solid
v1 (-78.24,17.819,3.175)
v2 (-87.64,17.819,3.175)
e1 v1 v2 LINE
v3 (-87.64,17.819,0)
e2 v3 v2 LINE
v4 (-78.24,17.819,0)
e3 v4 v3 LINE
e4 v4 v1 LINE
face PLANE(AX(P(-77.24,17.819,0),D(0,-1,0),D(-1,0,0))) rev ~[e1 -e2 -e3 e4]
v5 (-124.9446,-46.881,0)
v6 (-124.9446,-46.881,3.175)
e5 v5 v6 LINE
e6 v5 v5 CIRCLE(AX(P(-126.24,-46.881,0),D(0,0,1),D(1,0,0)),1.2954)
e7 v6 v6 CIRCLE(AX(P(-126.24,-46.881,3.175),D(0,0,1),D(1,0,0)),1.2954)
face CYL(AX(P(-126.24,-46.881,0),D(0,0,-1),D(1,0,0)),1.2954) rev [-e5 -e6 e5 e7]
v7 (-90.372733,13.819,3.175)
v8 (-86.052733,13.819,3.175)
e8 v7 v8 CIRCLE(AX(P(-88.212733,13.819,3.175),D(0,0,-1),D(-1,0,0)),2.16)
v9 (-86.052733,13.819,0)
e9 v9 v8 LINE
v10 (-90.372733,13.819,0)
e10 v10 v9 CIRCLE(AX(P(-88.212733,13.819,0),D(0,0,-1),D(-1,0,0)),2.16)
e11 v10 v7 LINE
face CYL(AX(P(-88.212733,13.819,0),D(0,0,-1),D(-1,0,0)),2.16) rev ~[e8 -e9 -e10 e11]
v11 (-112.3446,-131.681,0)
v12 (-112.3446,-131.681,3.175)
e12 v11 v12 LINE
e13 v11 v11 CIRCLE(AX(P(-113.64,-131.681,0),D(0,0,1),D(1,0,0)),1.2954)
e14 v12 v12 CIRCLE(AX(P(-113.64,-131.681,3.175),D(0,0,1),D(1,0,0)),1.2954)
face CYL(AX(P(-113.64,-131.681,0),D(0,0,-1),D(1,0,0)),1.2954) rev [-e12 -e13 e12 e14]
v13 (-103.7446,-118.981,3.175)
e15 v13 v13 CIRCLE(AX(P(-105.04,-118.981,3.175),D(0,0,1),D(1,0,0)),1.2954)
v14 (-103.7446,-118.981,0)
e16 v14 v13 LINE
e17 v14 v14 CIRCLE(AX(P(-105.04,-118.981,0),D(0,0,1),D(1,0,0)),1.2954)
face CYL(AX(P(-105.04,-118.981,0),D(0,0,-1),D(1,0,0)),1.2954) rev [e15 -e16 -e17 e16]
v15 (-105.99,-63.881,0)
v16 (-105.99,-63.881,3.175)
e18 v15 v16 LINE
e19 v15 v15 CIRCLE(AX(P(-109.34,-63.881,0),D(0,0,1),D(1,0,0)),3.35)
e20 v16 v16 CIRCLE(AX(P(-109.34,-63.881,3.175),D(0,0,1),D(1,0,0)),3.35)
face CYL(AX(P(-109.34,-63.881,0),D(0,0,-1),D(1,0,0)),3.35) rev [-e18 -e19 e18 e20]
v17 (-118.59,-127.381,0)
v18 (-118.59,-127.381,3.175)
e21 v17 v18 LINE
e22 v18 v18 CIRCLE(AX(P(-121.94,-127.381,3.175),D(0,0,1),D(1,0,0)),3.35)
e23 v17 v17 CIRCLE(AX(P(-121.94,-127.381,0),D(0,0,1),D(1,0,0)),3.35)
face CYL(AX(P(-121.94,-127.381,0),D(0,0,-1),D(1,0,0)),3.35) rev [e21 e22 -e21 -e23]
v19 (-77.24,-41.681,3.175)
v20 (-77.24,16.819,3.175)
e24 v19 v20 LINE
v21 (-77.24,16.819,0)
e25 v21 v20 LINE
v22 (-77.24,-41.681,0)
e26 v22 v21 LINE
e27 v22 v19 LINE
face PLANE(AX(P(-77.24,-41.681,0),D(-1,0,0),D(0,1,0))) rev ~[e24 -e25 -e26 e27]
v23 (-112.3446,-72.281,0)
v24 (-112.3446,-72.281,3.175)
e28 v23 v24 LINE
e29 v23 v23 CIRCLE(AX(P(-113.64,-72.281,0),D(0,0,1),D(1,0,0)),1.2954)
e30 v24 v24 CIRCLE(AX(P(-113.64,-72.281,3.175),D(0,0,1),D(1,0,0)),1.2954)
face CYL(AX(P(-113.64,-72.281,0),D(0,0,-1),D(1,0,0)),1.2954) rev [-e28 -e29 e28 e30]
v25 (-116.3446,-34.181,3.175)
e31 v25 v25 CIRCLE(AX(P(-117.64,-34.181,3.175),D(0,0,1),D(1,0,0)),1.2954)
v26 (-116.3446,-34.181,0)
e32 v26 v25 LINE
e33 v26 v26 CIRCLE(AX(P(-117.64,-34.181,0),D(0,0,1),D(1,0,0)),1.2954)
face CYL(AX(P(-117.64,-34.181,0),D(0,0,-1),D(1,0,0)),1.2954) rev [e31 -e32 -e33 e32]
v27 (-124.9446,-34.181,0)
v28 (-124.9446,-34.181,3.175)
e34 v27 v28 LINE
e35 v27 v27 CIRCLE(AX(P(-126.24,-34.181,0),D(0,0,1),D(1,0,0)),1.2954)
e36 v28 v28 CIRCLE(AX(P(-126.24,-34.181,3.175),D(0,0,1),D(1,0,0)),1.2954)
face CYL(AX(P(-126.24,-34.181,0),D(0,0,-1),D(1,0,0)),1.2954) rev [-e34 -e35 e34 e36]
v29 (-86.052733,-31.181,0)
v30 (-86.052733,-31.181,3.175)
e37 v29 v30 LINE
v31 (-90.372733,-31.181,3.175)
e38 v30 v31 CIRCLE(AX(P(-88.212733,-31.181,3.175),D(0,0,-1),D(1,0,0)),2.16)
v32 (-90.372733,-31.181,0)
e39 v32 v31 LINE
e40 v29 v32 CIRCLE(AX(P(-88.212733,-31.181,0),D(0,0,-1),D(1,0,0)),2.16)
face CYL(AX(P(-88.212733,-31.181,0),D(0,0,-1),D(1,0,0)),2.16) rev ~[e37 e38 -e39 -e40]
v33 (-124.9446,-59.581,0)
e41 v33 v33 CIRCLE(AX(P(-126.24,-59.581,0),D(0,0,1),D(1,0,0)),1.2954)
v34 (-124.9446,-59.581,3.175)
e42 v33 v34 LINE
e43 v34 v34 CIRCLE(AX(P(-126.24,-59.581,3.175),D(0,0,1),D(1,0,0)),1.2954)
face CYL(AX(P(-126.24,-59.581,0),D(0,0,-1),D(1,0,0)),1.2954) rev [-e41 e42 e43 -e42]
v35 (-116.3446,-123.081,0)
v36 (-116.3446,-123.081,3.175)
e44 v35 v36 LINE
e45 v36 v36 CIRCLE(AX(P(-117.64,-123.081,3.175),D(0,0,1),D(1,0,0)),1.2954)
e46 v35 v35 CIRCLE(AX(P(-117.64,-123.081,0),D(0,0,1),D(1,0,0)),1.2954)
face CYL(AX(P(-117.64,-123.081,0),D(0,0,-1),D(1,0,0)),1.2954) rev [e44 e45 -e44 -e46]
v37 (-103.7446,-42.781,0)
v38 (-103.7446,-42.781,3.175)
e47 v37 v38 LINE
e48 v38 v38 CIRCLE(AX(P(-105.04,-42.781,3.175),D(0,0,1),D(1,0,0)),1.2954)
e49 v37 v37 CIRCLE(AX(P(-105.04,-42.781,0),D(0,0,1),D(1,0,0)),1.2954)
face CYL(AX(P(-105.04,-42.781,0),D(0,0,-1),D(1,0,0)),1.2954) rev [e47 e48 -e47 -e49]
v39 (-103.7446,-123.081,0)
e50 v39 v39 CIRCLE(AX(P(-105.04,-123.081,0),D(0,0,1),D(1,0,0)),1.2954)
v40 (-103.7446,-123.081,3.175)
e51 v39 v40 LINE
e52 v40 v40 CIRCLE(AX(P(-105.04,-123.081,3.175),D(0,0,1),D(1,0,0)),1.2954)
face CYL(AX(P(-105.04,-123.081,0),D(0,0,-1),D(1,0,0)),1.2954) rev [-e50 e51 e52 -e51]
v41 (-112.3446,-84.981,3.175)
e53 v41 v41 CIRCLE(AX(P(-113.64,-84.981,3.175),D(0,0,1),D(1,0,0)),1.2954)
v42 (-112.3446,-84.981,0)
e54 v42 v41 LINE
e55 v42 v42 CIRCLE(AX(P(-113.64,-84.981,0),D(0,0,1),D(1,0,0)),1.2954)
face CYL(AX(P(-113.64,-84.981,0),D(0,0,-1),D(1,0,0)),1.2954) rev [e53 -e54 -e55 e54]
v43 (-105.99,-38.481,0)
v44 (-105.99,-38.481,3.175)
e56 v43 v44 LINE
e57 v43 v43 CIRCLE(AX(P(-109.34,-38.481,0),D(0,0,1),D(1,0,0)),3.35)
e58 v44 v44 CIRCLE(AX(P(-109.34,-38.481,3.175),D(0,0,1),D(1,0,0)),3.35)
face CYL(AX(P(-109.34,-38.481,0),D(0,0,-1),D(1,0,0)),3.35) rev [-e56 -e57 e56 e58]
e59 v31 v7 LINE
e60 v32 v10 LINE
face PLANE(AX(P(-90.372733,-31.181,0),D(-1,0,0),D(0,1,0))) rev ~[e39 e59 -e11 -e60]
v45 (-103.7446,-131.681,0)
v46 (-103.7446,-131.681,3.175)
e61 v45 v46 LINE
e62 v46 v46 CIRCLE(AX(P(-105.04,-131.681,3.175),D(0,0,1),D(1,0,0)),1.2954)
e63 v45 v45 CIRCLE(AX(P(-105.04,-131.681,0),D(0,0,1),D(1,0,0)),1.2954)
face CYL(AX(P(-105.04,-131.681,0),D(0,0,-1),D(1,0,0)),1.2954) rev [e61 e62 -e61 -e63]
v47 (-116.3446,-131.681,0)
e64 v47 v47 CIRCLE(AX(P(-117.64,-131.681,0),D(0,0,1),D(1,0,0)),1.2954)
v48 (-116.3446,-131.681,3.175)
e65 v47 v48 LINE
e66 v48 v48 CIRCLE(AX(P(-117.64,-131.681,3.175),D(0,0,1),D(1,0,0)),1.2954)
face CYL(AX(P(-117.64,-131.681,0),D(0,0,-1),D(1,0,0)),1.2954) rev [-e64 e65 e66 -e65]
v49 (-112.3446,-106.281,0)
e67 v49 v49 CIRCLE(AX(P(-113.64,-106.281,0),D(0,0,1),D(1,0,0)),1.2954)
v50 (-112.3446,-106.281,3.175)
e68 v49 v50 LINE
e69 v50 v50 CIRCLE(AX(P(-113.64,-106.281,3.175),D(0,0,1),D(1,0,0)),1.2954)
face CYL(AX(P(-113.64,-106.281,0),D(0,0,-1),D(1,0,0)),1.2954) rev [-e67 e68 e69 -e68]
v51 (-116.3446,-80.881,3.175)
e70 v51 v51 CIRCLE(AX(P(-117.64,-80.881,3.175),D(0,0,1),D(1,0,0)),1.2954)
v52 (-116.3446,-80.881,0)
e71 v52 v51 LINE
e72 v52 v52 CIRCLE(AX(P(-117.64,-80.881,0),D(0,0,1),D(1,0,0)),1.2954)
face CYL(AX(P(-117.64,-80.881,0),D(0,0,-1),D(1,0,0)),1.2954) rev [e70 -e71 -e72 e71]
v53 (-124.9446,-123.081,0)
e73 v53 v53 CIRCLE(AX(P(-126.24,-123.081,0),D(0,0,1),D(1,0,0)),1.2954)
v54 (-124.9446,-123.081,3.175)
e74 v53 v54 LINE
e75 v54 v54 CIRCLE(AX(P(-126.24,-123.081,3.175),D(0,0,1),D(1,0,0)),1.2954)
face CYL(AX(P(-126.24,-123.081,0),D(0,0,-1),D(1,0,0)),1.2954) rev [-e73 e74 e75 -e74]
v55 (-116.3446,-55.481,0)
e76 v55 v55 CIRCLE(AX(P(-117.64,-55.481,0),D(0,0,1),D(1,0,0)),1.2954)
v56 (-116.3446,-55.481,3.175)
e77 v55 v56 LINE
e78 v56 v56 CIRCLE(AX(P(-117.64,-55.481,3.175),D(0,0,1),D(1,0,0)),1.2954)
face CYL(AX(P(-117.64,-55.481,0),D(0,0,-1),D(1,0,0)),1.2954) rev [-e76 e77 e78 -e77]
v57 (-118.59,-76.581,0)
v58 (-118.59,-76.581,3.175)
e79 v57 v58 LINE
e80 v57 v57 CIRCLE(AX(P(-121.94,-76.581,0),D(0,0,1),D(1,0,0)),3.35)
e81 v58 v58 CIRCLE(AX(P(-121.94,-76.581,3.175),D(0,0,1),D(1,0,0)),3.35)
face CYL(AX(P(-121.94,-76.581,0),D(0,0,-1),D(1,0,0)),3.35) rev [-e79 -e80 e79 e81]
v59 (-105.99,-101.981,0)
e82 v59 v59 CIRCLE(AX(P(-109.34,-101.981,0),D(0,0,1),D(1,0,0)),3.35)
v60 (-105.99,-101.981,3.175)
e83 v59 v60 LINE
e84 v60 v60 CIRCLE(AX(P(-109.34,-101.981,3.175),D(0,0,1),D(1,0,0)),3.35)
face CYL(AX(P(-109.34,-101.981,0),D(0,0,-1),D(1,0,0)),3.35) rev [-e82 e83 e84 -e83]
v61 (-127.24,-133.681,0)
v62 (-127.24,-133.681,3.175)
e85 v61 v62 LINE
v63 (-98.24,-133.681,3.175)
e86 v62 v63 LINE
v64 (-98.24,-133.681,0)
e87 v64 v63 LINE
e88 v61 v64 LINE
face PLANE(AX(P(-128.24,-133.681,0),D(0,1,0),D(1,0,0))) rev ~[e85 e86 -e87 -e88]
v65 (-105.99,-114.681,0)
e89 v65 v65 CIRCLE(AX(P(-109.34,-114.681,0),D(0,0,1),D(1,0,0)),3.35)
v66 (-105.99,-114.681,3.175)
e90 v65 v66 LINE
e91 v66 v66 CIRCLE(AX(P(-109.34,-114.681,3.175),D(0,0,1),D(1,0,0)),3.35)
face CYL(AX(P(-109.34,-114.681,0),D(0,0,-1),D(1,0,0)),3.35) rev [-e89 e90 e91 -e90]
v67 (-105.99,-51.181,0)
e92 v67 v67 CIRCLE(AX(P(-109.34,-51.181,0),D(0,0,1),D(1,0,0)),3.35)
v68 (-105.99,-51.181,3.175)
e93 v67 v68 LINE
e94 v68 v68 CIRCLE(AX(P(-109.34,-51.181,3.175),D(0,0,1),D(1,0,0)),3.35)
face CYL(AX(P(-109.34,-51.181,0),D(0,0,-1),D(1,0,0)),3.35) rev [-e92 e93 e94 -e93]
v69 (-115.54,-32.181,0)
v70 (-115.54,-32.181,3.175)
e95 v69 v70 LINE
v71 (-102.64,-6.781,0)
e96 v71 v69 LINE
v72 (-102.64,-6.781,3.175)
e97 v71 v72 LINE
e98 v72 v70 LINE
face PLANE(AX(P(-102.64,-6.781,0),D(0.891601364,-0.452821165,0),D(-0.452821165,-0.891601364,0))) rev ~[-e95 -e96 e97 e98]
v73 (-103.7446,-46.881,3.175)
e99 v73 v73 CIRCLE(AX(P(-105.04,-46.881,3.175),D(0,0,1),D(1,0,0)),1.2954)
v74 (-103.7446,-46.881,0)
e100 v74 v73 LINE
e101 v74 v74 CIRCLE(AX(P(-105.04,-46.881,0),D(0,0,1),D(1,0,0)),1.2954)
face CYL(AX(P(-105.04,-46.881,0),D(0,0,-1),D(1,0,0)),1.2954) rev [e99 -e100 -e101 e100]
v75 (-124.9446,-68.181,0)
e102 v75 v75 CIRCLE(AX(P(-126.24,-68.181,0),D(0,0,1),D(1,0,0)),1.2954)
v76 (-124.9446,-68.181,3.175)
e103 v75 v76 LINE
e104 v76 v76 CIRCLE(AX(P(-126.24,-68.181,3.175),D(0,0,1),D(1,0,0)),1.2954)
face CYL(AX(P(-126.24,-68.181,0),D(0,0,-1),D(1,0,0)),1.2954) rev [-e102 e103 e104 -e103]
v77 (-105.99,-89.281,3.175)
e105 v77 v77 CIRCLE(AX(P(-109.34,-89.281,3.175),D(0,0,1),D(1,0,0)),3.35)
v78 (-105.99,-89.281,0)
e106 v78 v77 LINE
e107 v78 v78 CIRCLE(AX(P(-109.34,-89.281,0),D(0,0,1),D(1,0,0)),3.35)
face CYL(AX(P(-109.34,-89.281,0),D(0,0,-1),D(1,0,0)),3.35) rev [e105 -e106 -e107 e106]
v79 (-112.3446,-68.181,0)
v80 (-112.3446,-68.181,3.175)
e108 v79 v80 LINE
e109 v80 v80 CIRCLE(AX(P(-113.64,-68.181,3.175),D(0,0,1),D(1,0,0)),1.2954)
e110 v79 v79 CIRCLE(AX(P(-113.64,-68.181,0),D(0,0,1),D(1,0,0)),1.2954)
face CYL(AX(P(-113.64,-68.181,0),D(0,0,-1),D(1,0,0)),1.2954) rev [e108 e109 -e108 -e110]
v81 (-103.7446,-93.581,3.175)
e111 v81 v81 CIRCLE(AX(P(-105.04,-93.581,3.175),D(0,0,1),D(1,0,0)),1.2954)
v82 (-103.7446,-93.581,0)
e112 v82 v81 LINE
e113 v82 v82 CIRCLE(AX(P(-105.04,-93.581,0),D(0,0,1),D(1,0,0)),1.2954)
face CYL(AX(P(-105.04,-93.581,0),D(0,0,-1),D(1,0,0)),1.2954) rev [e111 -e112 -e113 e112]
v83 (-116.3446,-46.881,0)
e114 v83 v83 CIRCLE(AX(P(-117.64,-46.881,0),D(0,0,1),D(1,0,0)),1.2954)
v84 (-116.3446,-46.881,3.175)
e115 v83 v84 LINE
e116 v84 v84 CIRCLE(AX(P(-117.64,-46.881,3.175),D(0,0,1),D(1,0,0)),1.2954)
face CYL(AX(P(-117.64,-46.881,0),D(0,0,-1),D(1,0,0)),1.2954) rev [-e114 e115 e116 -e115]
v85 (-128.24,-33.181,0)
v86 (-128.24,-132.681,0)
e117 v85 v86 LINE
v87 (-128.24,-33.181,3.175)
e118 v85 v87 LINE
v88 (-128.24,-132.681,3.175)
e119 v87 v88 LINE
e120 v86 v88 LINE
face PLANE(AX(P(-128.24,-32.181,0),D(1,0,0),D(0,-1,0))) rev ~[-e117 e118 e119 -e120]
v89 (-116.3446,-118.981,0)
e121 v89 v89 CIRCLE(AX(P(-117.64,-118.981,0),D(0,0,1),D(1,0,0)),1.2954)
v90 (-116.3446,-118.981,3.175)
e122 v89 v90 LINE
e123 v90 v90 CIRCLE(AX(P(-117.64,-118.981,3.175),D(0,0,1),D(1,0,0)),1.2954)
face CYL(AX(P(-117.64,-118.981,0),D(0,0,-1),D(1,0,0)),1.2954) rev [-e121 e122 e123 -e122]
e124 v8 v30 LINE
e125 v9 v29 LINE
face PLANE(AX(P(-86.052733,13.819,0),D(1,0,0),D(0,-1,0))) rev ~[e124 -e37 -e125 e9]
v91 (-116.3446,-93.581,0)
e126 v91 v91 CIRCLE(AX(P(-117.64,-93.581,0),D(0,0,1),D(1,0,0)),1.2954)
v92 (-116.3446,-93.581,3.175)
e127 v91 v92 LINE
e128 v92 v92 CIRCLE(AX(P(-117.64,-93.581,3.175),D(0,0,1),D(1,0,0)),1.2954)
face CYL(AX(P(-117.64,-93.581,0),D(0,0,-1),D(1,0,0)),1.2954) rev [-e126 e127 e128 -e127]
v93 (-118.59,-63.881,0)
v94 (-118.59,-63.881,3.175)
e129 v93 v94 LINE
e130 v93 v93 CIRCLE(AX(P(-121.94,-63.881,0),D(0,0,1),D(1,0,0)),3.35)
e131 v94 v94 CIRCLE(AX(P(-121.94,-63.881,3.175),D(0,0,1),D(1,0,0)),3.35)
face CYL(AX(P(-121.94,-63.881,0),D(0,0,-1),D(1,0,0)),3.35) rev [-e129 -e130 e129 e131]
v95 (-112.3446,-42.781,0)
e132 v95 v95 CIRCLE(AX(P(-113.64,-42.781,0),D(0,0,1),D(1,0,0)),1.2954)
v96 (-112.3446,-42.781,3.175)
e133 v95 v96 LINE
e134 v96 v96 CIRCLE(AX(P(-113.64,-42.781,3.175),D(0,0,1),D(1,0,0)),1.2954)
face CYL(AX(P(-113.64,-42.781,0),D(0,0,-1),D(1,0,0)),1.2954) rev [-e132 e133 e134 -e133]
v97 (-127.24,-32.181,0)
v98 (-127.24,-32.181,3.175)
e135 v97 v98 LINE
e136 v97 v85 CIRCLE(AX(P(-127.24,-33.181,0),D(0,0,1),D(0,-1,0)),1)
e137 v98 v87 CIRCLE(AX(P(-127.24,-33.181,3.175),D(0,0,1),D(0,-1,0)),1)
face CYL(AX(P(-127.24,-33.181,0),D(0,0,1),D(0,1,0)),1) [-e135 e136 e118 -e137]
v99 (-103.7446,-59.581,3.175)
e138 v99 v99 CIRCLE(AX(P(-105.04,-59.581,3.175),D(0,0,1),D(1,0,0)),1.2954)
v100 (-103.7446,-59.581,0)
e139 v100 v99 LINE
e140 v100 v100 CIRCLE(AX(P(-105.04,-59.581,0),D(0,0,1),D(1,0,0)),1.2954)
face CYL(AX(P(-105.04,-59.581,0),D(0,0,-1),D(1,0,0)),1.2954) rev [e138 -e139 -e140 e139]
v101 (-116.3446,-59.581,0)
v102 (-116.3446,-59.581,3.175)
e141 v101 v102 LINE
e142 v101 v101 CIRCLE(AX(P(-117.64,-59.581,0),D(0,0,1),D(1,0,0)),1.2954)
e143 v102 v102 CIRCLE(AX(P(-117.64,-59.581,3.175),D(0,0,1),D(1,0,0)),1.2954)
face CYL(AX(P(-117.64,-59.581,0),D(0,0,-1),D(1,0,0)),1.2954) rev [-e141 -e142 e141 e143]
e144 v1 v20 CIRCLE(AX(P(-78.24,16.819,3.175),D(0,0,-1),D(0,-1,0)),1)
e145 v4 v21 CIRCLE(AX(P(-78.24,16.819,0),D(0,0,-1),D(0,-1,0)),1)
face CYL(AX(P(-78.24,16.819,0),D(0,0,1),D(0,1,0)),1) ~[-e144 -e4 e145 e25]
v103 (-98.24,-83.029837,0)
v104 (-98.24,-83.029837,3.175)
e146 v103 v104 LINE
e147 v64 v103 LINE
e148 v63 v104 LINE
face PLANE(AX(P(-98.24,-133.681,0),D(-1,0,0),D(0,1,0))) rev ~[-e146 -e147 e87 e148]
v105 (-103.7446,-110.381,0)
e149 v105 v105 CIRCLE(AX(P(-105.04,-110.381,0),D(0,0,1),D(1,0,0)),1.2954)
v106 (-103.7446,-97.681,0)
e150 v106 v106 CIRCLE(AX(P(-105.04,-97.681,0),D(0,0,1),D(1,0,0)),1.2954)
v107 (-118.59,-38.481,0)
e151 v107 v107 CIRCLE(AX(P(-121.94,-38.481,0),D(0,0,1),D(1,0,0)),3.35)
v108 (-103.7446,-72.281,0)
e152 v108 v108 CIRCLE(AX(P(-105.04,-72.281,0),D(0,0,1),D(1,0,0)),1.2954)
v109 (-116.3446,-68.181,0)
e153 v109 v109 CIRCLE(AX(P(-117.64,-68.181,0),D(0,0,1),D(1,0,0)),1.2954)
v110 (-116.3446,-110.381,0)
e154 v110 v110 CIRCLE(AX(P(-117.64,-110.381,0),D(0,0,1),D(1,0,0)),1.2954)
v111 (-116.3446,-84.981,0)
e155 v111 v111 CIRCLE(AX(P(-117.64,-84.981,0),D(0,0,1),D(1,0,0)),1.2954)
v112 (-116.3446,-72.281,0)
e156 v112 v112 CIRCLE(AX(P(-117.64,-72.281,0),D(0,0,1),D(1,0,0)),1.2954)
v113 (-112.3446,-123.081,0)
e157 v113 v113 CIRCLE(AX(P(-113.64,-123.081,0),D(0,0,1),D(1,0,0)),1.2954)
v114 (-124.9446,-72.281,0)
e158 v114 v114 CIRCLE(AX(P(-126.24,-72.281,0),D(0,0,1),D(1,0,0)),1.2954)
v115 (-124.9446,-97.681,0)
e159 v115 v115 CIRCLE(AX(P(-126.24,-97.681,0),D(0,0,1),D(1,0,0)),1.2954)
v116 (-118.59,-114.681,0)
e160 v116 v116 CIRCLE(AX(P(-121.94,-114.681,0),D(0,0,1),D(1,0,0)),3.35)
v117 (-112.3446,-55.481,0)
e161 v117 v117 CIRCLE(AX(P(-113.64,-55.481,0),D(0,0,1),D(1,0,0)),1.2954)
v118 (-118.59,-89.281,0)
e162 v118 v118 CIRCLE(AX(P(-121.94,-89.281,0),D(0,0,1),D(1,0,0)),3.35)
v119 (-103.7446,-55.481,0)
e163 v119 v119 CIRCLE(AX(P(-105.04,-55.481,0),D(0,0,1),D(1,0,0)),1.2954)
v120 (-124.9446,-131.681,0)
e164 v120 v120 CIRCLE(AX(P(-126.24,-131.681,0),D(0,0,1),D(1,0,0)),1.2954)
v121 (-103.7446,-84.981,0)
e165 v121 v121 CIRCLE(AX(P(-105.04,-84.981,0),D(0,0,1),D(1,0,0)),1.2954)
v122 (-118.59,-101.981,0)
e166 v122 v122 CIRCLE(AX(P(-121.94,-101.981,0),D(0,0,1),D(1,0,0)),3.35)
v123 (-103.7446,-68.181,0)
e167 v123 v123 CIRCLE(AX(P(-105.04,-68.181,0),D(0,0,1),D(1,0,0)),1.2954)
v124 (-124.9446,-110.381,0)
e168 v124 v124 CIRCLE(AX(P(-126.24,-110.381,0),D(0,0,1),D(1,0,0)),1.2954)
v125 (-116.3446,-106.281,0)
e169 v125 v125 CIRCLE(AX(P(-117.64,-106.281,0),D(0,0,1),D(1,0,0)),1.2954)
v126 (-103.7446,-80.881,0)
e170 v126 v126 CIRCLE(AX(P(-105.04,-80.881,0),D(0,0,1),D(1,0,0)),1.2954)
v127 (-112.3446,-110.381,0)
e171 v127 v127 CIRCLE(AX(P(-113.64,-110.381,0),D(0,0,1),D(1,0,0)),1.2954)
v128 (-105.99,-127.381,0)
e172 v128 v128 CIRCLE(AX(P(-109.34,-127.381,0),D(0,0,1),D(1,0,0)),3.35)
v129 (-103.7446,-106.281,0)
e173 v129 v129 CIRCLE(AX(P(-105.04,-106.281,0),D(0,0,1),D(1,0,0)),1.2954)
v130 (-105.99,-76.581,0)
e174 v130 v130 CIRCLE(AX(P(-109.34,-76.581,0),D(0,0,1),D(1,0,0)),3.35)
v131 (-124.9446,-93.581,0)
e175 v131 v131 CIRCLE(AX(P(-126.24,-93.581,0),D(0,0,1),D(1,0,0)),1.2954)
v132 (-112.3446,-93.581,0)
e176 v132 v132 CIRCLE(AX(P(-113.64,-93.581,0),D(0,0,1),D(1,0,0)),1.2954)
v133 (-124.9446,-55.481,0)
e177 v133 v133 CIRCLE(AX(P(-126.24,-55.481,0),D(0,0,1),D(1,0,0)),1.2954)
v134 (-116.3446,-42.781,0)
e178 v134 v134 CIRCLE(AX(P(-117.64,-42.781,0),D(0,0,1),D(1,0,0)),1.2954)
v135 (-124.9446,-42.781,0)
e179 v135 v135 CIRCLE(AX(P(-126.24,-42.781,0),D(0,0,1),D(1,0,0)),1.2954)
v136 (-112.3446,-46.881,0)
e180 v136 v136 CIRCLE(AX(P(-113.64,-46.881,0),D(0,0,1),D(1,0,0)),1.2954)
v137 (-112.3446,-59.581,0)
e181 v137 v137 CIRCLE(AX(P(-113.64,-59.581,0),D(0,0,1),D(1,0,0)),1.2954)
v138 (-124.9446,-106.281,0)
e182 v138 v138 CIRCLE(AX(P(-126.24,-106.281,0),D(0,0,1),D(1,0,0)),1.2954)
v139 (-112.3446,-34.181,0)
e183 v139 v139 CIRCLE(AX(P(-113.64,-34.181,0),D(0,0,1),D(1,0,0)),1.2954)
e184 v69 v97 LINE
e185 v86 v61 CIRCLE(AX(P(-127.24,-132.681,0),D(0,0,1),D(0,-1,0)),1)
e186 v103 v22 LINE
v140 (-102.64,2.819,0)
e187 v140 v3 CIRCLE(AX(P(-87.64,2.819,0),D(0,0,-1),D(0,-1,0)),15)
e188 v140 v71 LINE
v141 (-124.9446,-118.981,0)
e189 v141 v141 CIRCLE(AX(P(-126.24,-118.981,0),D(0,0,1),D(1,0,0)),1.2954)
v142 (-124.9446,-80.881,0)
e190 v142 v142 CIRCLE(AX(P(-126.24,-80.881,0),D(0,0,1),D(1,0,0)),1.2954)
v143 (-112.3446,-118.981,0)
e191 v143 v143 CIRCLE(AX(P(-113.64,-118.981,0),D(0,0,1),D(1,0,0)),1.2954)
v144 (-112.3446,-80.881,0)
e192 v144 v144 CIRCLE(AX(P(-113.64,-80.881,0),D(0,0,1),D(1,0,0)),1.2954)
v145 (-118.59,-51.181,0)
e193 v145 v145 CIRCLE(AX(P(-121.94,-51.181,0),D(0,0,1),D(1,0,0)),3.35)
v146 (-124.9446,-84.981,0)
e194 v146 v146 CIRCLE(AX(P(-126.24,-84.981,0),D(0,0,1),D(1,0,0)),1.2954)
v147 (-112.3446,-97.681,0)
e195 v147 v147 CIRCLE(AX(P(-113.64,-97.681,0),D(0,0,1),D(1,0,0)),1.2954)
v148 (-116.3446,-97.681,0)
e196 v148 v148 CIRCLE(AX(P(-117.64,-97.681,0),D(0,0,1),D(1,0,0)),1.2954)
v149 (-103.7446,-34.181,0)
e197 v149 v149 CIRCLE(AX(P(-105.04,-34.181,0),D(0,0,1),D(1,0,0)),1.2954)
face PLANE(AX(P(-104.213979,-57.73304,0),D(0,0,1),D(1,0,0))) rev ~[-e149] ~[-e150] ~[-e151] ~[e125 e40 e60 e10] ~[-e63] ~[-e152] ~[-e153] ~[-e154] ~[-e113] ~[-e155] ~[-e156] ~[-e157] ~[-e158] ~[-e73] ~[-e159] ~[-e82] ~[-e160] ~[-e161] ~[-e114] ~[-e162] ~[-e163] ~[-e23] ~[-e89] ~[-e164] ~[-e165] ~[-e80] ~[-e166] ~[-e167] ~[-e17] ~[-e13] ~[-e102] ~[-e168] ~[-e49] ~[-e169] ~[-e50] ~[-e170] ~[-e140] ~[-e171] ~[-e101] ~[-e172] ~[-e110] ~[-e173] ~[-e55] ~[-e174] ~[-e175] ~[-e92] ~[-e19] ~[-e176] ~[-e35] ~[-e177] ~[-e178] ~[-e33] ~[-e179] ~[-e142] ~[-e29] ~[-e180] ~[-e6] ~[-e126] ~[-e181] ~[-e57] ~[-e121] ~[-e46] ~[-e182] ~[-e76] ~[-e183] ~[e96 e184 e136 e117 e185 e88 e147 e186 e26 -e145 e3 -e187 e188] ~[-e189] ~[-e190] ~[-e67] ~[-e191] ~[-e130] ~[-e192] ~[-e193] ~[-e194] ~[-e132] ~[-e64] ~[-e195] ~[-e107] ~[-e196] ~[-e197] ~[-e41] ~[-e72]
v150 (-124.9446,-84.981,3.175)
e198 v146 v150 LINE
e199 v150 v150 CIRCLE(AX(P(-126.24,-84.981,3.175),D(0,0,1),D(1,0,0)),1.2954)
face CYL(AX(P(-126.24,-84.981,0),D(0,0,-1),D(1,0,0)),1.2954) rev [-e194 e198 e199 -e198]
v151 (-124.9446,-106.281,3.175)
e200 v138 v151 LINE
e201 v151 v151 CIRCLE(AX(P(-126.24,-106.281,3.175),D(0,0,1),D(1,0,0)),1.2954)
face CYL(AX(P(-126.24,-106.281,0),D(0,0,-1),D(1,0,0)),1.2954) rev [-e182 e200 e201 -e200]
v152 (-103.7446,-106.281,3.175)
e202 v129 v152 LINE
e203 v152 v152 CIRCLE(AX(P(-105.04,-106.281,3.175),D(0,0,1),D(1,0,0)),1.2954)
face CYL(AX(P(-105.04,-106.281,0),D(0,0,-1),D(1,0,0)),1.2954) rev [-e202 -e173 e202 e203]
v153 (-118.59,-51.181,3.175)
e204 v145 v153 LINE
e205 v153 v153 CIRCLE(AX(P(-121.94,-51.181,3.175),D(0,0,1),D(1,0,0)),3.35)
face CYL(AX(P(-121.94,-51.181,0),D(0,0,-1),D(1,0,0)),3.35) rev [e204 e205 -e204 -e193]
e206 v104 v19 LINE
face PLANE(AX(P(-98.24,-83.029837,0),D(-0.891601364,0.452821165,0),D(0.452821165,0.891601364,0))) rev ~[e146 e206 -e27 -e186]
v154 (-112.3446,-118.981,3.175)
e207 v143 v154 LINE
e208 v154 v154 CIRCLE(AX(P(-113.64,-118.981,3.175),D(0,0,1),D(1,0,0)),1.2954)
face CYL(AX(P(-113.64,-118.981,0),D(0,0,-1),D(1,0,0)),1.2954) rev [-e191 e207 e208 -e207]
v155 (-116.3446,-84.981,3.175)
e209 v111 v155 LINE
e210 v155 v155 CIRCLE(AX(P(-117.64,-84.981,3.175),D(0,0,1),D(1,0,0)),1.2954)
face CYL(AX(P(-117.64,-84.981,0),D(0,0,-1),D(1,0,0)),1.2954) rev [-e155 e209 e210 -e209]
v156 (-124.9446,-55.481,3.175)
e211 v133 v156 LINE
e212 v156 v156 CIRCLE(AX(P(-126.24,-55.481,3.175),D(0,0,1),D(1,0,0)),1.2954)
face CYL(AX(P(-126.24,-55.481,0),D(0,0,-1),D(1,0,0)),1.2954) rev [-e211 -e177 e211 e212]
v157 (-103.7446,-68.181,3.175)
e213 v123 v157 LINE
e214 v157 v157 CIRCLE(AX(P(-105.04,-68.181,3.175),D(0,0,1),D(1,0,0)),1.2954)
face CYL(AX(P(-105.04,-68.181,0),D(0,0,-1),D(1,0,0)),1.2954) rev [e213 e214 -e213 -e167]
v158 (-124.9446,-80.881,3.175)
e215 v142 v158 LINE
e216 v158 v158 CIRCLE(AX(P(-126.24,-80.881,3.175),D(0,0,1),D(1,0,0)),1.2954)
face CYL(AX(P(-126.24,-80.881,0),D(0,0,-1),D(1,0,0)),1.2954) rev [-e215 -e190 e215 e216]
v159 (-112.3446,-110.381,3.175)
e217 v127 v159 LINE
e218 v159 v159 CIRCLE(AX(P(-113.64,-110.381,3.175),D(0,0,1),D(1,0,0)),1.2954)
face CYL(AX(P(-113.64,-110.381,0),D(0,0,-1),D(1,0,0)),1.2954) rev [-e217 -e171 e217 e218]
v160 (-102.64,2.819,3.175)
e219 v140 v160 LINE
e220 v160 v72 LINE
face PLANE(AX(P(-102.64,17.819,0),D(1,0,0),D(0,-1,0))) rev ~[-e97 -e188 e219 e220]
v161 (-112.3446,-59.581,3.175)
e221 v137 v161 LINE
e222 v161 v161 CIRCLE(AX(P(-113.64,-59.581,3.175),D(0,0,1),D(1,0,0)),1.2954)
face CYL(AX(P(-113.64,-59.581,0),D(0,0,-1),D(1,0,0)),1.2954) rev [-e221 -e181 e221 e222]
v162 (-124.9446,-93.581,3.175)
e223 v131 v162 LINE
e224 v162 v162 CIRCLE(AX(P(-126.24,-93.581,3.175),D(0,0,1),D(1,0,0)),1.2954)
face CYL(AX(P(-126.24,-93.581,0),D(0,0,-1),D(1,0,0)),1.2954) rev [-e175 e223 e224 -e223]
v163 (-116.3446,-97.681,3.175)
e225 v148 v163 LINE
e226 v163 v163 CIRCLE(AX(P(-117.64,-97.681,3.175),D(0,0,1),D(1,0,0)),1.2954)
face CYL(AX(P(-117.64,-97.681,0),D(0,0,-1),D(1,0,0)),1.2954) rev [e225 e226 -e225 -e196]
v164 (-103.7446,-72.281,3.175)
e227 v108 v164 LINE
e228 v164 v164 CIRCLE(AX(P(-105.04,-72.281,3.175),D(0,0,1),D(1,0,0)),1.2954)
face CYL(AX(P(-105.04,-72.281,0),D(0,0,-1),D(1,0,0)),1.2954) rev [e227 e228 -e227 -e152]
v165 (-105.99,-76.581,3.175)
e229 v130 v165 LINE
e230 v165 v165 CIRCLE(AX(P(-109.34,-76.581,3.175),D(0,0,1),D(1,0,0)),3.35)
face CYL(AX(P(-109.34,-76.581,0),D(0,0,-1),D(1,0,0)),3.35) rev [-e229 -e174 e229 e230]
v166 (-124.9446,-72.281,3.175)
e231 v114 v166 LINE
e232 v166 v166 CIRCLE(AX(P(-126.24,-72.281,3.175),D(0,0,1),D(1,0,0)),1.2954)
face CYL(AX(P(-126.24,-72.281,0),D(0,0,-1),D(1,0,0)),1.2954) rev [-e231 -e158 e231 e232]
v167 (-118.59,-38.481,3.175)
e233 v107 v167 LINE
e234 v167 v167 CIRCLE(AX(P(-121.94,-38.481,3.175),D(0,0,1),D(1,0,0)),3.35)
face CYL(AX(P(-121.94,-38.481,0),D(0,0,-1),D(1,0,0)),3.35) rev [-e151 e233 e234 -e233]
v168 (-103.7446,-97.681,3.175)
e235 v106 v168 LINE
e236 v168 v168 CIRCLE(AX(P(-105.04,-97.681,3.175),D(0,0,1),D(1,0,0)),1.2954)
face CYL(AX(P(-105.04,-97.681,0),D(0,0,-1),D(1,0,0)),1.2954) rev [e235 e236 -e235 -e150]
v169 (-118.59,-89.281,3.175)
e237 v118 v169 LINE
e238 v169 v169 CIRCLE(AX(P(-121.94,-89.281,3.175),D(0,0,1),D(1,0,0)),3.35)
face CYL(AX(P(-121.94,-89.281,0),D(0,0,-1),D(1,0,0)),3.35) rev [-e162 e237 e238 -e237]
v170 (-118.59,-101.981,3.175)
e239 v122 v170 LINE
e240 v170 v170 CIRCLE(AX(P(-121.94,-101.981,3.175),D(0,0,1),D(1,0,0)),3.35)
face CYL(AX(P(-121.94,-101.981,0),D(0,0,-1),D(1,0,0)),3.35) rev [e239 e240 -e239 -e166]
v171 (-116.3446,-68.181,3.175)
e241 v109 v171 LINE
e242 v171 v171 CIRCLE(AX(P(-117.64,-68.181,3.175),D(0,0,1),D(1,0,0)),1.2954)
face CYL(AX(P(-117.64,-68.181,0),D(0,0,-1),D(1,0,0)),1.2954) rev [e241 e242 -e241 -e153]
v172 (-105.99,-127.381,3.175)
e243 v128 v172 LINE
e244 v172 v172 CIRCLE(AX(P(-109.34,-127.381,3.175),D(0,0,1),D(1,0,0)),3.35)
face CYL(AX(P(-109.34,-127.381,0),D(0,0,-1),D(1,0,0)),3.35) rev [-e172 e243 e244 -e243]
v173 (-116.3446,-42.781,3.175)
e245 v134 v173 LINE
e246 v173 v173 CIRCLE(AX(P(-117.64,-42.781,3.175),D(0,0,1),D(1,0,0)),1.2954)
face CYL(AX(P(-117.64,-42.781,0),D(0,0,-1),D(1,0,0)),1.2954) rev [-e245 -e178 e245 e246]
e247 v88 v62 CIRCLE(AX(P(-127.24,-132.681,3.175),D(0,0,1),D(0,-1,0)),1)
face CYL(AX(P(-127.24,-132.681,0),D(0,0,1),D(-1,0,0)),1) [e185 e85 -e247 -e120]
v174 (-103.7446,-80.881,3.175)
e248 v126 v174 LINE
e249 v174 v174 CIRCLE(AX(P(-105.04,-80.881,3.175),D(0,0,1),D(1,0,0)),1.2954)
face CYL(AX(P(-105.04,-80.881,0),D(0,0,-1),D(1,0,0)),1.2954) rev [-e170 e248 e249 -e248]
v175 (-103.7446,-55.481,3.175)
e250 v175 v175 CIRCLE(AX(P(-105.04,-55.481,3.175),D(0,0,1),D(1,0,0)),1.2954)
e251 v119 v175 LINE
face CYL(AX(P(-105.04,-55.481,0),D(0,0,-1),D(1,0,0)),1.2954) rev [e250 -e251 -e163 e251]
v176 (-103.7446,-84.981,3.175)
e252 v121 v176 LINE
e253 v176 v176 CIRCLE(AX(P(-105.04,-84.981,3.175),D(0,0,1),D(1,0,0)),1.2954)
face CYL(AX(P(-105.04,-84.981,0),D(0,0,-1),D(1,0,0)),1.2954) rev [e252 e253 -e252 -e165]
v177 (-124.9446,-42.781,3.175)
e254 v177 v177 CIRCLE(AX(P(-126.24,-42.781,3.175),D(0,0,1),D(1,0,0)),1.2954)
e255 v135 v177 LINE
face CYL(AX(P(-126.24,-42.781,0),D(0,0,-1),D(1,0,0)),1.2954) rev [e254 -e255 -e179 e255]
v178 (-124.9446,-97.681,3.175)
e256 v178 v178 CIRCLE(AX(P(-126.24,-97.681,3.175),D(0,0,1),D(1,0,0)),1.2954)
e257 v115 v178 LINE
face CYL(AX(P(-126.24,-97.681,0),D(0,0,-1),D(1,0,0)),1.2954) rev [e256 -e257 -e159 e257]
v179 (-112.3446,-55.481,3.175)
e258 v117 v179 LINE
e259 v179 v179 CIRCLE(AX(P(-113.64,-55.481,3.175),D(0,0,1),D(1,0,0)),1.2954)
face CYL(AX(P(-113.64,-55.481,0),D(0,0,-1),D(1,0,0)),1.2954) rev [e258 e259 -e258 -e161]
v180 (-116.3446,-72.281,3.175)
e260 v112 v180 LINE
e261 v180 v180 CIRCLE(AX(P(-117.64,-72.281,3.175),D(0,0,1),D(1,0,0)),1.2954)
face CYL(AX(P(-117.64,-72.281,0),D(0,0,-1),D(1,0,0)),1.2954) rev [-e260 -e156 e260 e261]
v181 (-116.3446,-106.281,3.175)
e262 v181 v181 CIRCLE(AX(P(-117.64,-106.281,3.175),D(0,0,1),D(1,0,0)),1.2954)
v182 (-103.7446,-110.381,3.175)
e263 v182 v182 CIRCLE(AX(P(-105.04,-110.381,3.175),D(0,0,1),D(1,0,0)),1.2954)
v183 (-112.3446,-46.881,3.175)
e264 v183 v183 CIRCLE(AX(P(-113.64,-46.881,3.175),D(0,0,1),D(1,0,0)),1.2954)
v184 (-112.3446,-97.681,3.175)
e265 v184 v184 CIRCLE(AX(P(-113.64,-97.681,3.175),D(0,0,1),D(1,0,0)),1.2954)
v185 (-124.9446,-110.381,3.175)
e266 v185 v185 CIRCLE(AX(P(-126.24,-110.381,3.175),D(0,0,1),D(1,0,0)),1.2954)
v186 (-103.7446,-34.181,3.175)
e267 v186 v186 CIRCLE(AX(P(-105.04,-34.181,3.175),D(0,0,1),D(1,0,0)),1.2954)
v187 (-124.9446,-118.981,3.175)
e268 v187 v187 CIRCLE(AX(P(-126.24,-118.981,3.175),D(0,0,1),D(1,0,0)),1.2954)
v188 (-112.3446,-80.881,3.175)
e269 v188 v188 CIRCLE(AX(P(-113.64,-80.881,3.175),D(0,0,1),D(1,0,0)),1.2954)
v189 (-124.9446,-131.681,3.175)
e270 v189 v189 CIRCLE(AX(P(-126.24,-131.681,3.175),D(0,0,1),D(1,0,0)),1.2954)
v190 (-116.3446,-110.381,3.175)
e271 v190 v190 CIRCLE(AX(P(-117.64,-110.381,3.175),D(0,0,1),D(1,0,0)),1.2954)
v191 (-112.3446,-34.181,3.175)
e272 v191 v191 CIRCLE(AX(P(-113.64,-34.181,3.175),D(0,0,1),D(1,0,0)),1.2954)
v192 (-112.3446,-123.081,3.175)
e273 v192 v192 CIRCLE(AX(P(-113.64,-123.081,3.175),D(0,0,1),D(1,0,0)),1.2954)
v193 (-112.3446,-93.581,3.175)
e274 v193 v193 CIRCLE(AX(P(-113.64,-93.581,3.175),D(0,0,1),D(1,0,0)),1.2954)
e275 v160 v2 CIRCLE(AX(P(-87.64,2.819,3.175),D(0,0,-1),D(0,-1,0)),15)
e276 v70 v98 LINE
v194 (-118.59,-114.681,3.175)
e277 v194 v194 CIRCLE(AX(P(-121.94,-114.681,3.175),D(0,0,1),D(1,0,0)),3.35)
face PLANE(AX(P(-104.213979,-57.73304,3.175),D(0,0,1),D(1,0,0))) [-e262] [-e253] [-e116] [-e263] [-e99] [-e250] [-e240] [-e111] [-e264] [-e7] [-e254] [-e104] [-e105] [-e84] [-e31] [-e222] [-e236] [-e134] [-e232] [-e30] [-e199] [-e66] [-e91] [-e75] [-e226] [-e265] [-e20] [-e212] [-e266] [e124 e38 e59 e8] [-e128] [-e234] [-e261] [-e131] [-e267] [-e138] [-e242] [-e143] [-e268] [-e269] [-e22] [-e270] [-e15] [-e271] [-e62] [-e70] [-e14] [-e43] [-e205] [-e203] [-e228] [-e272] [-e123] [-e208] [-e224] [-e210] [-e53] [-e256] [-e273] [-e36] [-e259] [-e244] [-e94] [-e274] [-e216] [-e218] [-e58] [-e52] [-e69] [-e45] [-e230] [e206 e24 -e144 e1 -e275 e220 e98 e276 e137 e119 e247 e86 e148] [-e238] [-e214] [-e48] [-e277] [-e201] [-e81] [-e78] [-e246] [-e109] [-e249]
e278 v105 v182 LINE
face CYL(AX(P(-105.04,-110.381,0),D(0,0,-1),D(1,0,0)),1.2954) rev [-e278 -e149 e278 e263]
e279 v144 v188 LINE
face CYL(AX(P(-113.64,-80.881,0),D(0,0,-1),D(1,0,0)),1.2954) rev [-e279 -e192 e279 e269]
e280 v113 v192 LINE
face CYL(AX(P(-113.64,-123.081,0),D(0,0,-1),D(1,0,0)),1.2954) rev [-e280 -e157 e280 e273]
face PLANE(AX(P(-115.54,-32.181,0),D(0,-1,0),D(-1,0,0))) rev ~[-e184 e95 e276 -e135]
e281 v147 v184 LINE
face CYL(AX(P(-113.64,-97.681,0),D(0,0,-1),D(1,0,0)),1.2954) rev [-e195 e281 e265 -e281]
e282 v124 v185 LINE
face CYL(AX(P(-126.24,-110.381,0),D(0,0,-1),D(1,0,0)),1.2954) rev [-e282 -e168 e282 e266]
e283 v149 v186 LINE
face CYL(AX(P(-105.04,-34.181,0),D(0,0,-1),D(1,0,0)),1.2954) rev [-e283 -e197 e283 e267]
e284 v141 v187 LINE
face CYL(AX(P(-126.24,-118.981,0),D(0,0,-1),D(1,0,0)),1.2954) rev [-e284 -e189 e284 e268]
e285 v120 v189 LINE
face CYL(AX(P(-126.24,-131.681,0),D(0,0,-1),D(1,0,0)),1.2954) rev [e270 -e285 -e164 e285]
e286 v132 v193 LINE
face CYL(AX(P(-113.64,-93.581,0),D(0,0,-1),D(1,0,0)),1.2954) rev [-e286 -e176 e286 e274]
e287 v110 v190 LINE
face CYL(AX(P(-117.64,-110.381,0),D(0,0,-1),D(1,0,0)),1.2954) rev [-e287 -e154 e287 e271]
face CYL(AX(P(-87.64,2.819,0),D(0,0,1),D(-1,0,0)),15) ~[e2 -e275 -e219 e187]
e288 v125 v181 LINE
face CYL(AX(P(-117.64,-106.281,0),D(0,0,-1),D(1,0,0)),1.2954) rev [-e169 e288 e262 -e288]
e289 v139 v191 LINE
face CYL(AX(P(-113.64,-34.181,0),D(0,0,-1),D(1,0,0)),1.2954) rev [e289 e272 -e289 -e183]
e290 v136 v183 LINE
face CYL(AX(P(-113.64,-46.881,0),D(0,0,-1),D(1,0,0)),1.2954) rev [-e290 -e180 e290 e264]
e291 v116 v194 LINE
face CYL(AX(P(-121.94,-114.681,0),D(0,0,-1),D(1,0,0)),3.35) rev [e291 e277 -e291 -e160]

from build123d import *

# Parameters (mm, degrees)
SKETCH2_R           = 1.2954
SKETCH2_R_2         = 3.35
BOSS_EXTRUDE1_DEPTH = 3.175
FILLET1_R           = 15
FILLET2_R           = 1


with BuildPart() as part:
    # Sketch2 → Boss-Extrude1 (new body)
    with BuildSketch(Plane.XY):
        Polygon((-115.54, -32.181), (-128.24, -32.181), (-128.24, -133.681), (-98.24, -133.681), (-98.24, -83.029837209), (-77.24, -41.681), (-77.24, 17.819), (-102.64, 17.819), (-102.64, -6.781), align=None)
        with BuildLine():
            Line((-90.372732921, -31.181), (-90.372732921, 13.819))
            ThreePointArc((-90.372732921, 13.819), (-88.212732921, 15.979), (-86.052732921, 13.819))
            Line((-86.052732921, 13.819), (-86.052732921, -31.181))
            ThreePointArc((-86.052732921, -31.181), (-88.212732921, -33.341), (-90.372732921, -31.181))
        make_face(mode=Mode.SUBTRACT)
        with Locations((-126.24, -131.681)):
            Circle(SKETCH2_R, mode=Mode.SUBTRACT)
        with Locations((-121.94, -127.381)):
            Circle(SKETCH2_R_2, mode=Mode.SUBTRACT)
        with Locations((-126.24, -123.081)):
            Circle(SKETCH2_R, mode=Mode.SUBTRACT)
        with Locations((-126.24, -118.981)):
            Circle(SKETCH2_R, mode=Mode.SUBTRACT)
        with Locations((-117.64, -131.681)):
            Circle(SKETCH2_R, mode=Mode.SUBTRACT)
        with Locations((-117.64, -123.081)):
            Circle(SKETCH2_R, mode=Mode.SUBTRACT)
        with Locations((-117.64, -118.981)):
            Circle(SKETCH2_R, mode=Mode.SUBTRACT)
        with Locations((-126.24, -110.381)):
            Circle(SKETCH2_R, mode=Mode.SUBTRACT)
        with Locations((-126.24, -106.281)):
            Circle(SKETCH2_R, mode=Mode.SUBTRACT)
        with Locations((-121.94, -114.681)):
            Circle(SKETCH2_R_2, mode=Mode.SUBTRACT)
        with Locations((-126.24, -97.681)):
            Circle(SKETCH2_R, mode=Mode.SUBTRACT)
        with Locations((-121.94, -101.981)):
            Circle(SKETCH2_R_2, mode=Mode.SUBTRACT)
        with Locations((-117.64, -110.381)):
            Circle(SKETCH2_R, mode=Mode.SUBTRACT)
        with Locations((-117.64, -106.281)):
            Circle(SKETCH2_R, mode=Mode.SUBTRACT)
        with Locations((-117.64, -97.681)):
            Circle(SKETCH2_R, mode=Mode.SUBTRACT)
        with Locations((-113.64, -131.681)):
            Circle(SKETCH2_R, mode=Mode.SUBTRACT)
        with Locations((-109.34, -127.381)):
            Circle(SKETCH2_R_2, mode=Mode.SUBTRACT)
        with Locations((-113.64, -123.081)):
            Circle(SKETCH2_R, mode=Mode.SUBTRACT)
        with Locations((-113.64, -118.981)):
            Circle(SKETCH2_R, mode=Mode.SUBTRACT)
        with Locations((-105.04, -131.681)):
            Circle(SKETCH2_R, mode=Mode.SUBTRACT)
        with Locations((-105.04, -123.081)):
            Circle(SKETCH2_R, mode=Mode.SUBTRACT)
        with Locations((-105.04, -118.981)):
            Circle(SKETCH2_R, mode=Mode.SUBTRACT)
        with Locations((-113.64, -110.381)):
            Circle(SKETCH2_R, mode=Mode.SUBTRACT)
        with Locations((-113.64, -106.281)):
            Circle(SKETCH2_R, mode=Mode.SUBTRACT)
        with Locations((-109.34, -114.681)):
            Circle(SKETCH2_R_2, mode=Mode.SUBTRACT)
        with Locations((-113.64, -97.681)):
            Circle(SKETCH2_R, mode=Mode.SUBTRACT)
        with Locations((-109.34, -101.981)):
            Circle(SKETCH2_R_2, mode=Mode.SUBTRACT)
        with Locations((-105.04, -110.381)):
            Circle(SKETCH2_R, mode=Mode.SUBTRACT)
        with Locations((-105.04, -106.281)):
            Circle(SKETCH2_R, mode=Mode.SUBTRACT)
        with Locations((-105.04, -97.681)):
            Circle(SKETCH2_R, mode=Mode.SUBTRACT)
        with Locations((-126.24, -93.581)):
            Circle(SKETCH2_R, mode=Mode.SUBTRACT)
        with Locations((-121.94, -89.281)):
            Circle(SKETCH2_R_2, mode=Mode.SUBTRACT)
        with Locations((-126.24, -84.981)):
            Circle(SKETCH2_R, mode=Mode.SUBTRACT)
        with Locations((-126.24, -80.881)):
            Circle(SKETCH2_R, mode=Mode.SUBTRACT)
        with Locations((-117.64, -93.581)):
            Circle(SKETCH2_R, mode=Mode.SUBTRACT)
        with Locations((-117.64, -84.981)):
            Circle(SKETCH2_R, mode=Mode.SUBTRACT)
        with Locations((-117.64, -80.881)):
            Circle(SKETCH2_R, mode=Mode.SUBTRACT)
        with Locations((-126.24, -72.281)):
            Circle(SKETCH2_R, mode=Mode.SUBTRACT)
        with Locations((-126.24, -68.181)):
            Circle(SKETCH2_R, mode=Mode.SUBTRACT)
        with Locations((-121.94, -76.581)):
            Circle(SKETCH2_R_2, mode=Mode.SUBTRACT)
        with Locations((-126.24, -59.581)):
            Circle(SKETCH2_R, mode=Mode.SUBTRACT)
        with Locations((-121.94, -63.881)):
            Circle(SKETCH2_R_2, mode=Mode.SUBTRACT)
        with Locations((-117.64, -72.281)):
            Circle(SKETCH2_R, mode=Mode.SUBTRACT)
        with Locations((-117.64, -68.181)):
            Circle(SKETCH2_R, mode=Mode.SUBTRACT)
        with Locations((-117.64, -59.581)):
            Circle(SKETCH2_R, mode=Mode.SUBTRACT)
        with Locations((-113.64, -93.581)):
            Circle(SKETCH2_R, mode=Mode.SUBTRACT)
        with Locations((-109.34, -89.281)):
            Circle(SKETCH2_R_2, mode=Mode.SUBTRACT)
        with Locations((-113.64, -84.981)):
            Circle(SKETCH2_R, mode=Mode.SUBTRACT)
        with Locations((-113.64, -80.881)):
            Circle(SKETCH2_R, mode=Mode.SUBTRACT)
        with Locations((-105.04, -93.581)):
            Circle(SKETCH2_R, mode=Mode.SUBTRACT)
        with Locations((-105.04, -84.981)):
            Circle(SKETCH2_R, mode=Mode.SUBTRACT)
        with Locations((-105.04, -80.881)):
            Circle(SKETCH2_R, mode=Mode.SUBTRACT)
        with Locations((-113.64, -72.281)):
            Circle(SKETCH2_R, mode=Mode.SUBTRACT)
        with Locations((-113.64, -68.181)):
            Circle(SKETCH2_R, mode=Mode.SUBTRACT)
        with Locations((-109.34, -76.581)):
            Circle(SKETCH2_R_2, mode=Mode.SUBTRACT)
        with Locations((-113.64, -59.581)):
            Circle(SKETCH2_R, mode=Mode.SUBTRACT)
        with Locations((-109.34, -63.881)):
            Circle(SKETCH2_R_2, mode=Mode.SUBTRACT)
        with Locations((-105.04, -72.281)):
            Circle(SKETCH2_R, mode=Mode.SUBTRACT)
        with Locations((-105.04, -68.181)):
            Circle(SKETCH2_R, mode=Mode.SUBTRACT)
        with Locations((-105.04, -59.581)):
            Circle(SKETCH2_R, mode=Mode.SUBTRACT)
        with Locations((-126.24, -55.481)):
            Circle(SKETCH2_R, mode=Mode.SUBTRACT)
        with Locations((-121.94, -51.181)):
            Circle(SKETCH2_R_2, mode=Mode.SUBTRACT)
        with Locations((-126.24, -46.881)):
            Circle(SKETCH2_R, mode=Mode.SUBTRACT)
        with Locations((-126.24, -42.781)):
            Circle(SKETCH2_R, mode=Mode.SUBTRACT)
        with Locations((-117.64, -55.481)):
            Circle(SKETCH2_R, mode=Mode.SUBTRACT)
        with Locations((-117.64, -46.881)):
            Circle(SKETCH2_R, mode=Mode.SUBTRACT)
        with Locations((-117.64, -42.781)):
            Circle(SKETCH2_R, mode=Mode.SUBTRACT)
        with Locations((-126.24, -34.181)):
            Circle(SKETCH2_R, mode=Mode.SUBTRACT)
        with Locations((-121.94, -38.481)):
            Circle(SKETCH2_R_2, mode=Mode.SUBTRACT)
        with Locations((-117.64, -34.181)):
            Circle(SKETCH2_R, mode=Mode.SUBTRACT)
        with Locations((-113.64, -55.481)):
            Circle(SKETCH2_R, mode=Mode.SUBTRACT)
        with Locations((-109.34, -51.181)):
            Circle(SKETCH2_R_2, mode=Mode.SUBTRACT)
        with Locations((-113.64, -46.881)):
            Circle(SKETCH2_R, mode=Mode.SUBTRACT)
        with Locations((-113.64, -42.781)):
            Circle(SKETCH2_R, mode=Mode.SUBTRACT)
        with Locations((-105.04, -55.481)):
            Circle(SKETCH2_R, mode=Mode.SUBTRACT)
        with Locations((-105.04, -46.881)):
            Circle(SKETCH2_R, mode=Mode.SUBTRACT)
        with Locations((-105.04, -42.781)):
            Circle(SKETCH2_R, mode=Mode.SUBTRACT)
        with Locations((-113.64, -34.181)):
            Circle(SKETCH2_R, mode=Mode.SUBTRACT)
        with Locations((-109.34, -38.481)):
            Circle(SKETCH2_R_2, mode=Mode.SUBTRACT)
        with Locations((-105.04, -34.181)):
            Circle(SKETCH2_R, mode=Mode.SUBTRACT)
    extrude(amount=BOSS_EXTRUDE1_DEPTH)

    # Fillet1
    fillet1_edges = [part.edges().sort_by_distance(p)[0] for p in [
        (-102.64, 17.819, 1.5875),
    ]]
    fillet(fillet1_edges, radius=FILLET1_R)

    # Fillet2
    fillet2_edges = [part.edges().sort_by_distance(p)[0] for p in [
        (-128.24, -133.681, 1.5875),
        (-128.24, -32.181, 1.5875),
        (-77.24, 17.819, 1.5875),
    ]]
    fillet(fillet2_edges, radius=FILLET2_R)


solid = part.part
